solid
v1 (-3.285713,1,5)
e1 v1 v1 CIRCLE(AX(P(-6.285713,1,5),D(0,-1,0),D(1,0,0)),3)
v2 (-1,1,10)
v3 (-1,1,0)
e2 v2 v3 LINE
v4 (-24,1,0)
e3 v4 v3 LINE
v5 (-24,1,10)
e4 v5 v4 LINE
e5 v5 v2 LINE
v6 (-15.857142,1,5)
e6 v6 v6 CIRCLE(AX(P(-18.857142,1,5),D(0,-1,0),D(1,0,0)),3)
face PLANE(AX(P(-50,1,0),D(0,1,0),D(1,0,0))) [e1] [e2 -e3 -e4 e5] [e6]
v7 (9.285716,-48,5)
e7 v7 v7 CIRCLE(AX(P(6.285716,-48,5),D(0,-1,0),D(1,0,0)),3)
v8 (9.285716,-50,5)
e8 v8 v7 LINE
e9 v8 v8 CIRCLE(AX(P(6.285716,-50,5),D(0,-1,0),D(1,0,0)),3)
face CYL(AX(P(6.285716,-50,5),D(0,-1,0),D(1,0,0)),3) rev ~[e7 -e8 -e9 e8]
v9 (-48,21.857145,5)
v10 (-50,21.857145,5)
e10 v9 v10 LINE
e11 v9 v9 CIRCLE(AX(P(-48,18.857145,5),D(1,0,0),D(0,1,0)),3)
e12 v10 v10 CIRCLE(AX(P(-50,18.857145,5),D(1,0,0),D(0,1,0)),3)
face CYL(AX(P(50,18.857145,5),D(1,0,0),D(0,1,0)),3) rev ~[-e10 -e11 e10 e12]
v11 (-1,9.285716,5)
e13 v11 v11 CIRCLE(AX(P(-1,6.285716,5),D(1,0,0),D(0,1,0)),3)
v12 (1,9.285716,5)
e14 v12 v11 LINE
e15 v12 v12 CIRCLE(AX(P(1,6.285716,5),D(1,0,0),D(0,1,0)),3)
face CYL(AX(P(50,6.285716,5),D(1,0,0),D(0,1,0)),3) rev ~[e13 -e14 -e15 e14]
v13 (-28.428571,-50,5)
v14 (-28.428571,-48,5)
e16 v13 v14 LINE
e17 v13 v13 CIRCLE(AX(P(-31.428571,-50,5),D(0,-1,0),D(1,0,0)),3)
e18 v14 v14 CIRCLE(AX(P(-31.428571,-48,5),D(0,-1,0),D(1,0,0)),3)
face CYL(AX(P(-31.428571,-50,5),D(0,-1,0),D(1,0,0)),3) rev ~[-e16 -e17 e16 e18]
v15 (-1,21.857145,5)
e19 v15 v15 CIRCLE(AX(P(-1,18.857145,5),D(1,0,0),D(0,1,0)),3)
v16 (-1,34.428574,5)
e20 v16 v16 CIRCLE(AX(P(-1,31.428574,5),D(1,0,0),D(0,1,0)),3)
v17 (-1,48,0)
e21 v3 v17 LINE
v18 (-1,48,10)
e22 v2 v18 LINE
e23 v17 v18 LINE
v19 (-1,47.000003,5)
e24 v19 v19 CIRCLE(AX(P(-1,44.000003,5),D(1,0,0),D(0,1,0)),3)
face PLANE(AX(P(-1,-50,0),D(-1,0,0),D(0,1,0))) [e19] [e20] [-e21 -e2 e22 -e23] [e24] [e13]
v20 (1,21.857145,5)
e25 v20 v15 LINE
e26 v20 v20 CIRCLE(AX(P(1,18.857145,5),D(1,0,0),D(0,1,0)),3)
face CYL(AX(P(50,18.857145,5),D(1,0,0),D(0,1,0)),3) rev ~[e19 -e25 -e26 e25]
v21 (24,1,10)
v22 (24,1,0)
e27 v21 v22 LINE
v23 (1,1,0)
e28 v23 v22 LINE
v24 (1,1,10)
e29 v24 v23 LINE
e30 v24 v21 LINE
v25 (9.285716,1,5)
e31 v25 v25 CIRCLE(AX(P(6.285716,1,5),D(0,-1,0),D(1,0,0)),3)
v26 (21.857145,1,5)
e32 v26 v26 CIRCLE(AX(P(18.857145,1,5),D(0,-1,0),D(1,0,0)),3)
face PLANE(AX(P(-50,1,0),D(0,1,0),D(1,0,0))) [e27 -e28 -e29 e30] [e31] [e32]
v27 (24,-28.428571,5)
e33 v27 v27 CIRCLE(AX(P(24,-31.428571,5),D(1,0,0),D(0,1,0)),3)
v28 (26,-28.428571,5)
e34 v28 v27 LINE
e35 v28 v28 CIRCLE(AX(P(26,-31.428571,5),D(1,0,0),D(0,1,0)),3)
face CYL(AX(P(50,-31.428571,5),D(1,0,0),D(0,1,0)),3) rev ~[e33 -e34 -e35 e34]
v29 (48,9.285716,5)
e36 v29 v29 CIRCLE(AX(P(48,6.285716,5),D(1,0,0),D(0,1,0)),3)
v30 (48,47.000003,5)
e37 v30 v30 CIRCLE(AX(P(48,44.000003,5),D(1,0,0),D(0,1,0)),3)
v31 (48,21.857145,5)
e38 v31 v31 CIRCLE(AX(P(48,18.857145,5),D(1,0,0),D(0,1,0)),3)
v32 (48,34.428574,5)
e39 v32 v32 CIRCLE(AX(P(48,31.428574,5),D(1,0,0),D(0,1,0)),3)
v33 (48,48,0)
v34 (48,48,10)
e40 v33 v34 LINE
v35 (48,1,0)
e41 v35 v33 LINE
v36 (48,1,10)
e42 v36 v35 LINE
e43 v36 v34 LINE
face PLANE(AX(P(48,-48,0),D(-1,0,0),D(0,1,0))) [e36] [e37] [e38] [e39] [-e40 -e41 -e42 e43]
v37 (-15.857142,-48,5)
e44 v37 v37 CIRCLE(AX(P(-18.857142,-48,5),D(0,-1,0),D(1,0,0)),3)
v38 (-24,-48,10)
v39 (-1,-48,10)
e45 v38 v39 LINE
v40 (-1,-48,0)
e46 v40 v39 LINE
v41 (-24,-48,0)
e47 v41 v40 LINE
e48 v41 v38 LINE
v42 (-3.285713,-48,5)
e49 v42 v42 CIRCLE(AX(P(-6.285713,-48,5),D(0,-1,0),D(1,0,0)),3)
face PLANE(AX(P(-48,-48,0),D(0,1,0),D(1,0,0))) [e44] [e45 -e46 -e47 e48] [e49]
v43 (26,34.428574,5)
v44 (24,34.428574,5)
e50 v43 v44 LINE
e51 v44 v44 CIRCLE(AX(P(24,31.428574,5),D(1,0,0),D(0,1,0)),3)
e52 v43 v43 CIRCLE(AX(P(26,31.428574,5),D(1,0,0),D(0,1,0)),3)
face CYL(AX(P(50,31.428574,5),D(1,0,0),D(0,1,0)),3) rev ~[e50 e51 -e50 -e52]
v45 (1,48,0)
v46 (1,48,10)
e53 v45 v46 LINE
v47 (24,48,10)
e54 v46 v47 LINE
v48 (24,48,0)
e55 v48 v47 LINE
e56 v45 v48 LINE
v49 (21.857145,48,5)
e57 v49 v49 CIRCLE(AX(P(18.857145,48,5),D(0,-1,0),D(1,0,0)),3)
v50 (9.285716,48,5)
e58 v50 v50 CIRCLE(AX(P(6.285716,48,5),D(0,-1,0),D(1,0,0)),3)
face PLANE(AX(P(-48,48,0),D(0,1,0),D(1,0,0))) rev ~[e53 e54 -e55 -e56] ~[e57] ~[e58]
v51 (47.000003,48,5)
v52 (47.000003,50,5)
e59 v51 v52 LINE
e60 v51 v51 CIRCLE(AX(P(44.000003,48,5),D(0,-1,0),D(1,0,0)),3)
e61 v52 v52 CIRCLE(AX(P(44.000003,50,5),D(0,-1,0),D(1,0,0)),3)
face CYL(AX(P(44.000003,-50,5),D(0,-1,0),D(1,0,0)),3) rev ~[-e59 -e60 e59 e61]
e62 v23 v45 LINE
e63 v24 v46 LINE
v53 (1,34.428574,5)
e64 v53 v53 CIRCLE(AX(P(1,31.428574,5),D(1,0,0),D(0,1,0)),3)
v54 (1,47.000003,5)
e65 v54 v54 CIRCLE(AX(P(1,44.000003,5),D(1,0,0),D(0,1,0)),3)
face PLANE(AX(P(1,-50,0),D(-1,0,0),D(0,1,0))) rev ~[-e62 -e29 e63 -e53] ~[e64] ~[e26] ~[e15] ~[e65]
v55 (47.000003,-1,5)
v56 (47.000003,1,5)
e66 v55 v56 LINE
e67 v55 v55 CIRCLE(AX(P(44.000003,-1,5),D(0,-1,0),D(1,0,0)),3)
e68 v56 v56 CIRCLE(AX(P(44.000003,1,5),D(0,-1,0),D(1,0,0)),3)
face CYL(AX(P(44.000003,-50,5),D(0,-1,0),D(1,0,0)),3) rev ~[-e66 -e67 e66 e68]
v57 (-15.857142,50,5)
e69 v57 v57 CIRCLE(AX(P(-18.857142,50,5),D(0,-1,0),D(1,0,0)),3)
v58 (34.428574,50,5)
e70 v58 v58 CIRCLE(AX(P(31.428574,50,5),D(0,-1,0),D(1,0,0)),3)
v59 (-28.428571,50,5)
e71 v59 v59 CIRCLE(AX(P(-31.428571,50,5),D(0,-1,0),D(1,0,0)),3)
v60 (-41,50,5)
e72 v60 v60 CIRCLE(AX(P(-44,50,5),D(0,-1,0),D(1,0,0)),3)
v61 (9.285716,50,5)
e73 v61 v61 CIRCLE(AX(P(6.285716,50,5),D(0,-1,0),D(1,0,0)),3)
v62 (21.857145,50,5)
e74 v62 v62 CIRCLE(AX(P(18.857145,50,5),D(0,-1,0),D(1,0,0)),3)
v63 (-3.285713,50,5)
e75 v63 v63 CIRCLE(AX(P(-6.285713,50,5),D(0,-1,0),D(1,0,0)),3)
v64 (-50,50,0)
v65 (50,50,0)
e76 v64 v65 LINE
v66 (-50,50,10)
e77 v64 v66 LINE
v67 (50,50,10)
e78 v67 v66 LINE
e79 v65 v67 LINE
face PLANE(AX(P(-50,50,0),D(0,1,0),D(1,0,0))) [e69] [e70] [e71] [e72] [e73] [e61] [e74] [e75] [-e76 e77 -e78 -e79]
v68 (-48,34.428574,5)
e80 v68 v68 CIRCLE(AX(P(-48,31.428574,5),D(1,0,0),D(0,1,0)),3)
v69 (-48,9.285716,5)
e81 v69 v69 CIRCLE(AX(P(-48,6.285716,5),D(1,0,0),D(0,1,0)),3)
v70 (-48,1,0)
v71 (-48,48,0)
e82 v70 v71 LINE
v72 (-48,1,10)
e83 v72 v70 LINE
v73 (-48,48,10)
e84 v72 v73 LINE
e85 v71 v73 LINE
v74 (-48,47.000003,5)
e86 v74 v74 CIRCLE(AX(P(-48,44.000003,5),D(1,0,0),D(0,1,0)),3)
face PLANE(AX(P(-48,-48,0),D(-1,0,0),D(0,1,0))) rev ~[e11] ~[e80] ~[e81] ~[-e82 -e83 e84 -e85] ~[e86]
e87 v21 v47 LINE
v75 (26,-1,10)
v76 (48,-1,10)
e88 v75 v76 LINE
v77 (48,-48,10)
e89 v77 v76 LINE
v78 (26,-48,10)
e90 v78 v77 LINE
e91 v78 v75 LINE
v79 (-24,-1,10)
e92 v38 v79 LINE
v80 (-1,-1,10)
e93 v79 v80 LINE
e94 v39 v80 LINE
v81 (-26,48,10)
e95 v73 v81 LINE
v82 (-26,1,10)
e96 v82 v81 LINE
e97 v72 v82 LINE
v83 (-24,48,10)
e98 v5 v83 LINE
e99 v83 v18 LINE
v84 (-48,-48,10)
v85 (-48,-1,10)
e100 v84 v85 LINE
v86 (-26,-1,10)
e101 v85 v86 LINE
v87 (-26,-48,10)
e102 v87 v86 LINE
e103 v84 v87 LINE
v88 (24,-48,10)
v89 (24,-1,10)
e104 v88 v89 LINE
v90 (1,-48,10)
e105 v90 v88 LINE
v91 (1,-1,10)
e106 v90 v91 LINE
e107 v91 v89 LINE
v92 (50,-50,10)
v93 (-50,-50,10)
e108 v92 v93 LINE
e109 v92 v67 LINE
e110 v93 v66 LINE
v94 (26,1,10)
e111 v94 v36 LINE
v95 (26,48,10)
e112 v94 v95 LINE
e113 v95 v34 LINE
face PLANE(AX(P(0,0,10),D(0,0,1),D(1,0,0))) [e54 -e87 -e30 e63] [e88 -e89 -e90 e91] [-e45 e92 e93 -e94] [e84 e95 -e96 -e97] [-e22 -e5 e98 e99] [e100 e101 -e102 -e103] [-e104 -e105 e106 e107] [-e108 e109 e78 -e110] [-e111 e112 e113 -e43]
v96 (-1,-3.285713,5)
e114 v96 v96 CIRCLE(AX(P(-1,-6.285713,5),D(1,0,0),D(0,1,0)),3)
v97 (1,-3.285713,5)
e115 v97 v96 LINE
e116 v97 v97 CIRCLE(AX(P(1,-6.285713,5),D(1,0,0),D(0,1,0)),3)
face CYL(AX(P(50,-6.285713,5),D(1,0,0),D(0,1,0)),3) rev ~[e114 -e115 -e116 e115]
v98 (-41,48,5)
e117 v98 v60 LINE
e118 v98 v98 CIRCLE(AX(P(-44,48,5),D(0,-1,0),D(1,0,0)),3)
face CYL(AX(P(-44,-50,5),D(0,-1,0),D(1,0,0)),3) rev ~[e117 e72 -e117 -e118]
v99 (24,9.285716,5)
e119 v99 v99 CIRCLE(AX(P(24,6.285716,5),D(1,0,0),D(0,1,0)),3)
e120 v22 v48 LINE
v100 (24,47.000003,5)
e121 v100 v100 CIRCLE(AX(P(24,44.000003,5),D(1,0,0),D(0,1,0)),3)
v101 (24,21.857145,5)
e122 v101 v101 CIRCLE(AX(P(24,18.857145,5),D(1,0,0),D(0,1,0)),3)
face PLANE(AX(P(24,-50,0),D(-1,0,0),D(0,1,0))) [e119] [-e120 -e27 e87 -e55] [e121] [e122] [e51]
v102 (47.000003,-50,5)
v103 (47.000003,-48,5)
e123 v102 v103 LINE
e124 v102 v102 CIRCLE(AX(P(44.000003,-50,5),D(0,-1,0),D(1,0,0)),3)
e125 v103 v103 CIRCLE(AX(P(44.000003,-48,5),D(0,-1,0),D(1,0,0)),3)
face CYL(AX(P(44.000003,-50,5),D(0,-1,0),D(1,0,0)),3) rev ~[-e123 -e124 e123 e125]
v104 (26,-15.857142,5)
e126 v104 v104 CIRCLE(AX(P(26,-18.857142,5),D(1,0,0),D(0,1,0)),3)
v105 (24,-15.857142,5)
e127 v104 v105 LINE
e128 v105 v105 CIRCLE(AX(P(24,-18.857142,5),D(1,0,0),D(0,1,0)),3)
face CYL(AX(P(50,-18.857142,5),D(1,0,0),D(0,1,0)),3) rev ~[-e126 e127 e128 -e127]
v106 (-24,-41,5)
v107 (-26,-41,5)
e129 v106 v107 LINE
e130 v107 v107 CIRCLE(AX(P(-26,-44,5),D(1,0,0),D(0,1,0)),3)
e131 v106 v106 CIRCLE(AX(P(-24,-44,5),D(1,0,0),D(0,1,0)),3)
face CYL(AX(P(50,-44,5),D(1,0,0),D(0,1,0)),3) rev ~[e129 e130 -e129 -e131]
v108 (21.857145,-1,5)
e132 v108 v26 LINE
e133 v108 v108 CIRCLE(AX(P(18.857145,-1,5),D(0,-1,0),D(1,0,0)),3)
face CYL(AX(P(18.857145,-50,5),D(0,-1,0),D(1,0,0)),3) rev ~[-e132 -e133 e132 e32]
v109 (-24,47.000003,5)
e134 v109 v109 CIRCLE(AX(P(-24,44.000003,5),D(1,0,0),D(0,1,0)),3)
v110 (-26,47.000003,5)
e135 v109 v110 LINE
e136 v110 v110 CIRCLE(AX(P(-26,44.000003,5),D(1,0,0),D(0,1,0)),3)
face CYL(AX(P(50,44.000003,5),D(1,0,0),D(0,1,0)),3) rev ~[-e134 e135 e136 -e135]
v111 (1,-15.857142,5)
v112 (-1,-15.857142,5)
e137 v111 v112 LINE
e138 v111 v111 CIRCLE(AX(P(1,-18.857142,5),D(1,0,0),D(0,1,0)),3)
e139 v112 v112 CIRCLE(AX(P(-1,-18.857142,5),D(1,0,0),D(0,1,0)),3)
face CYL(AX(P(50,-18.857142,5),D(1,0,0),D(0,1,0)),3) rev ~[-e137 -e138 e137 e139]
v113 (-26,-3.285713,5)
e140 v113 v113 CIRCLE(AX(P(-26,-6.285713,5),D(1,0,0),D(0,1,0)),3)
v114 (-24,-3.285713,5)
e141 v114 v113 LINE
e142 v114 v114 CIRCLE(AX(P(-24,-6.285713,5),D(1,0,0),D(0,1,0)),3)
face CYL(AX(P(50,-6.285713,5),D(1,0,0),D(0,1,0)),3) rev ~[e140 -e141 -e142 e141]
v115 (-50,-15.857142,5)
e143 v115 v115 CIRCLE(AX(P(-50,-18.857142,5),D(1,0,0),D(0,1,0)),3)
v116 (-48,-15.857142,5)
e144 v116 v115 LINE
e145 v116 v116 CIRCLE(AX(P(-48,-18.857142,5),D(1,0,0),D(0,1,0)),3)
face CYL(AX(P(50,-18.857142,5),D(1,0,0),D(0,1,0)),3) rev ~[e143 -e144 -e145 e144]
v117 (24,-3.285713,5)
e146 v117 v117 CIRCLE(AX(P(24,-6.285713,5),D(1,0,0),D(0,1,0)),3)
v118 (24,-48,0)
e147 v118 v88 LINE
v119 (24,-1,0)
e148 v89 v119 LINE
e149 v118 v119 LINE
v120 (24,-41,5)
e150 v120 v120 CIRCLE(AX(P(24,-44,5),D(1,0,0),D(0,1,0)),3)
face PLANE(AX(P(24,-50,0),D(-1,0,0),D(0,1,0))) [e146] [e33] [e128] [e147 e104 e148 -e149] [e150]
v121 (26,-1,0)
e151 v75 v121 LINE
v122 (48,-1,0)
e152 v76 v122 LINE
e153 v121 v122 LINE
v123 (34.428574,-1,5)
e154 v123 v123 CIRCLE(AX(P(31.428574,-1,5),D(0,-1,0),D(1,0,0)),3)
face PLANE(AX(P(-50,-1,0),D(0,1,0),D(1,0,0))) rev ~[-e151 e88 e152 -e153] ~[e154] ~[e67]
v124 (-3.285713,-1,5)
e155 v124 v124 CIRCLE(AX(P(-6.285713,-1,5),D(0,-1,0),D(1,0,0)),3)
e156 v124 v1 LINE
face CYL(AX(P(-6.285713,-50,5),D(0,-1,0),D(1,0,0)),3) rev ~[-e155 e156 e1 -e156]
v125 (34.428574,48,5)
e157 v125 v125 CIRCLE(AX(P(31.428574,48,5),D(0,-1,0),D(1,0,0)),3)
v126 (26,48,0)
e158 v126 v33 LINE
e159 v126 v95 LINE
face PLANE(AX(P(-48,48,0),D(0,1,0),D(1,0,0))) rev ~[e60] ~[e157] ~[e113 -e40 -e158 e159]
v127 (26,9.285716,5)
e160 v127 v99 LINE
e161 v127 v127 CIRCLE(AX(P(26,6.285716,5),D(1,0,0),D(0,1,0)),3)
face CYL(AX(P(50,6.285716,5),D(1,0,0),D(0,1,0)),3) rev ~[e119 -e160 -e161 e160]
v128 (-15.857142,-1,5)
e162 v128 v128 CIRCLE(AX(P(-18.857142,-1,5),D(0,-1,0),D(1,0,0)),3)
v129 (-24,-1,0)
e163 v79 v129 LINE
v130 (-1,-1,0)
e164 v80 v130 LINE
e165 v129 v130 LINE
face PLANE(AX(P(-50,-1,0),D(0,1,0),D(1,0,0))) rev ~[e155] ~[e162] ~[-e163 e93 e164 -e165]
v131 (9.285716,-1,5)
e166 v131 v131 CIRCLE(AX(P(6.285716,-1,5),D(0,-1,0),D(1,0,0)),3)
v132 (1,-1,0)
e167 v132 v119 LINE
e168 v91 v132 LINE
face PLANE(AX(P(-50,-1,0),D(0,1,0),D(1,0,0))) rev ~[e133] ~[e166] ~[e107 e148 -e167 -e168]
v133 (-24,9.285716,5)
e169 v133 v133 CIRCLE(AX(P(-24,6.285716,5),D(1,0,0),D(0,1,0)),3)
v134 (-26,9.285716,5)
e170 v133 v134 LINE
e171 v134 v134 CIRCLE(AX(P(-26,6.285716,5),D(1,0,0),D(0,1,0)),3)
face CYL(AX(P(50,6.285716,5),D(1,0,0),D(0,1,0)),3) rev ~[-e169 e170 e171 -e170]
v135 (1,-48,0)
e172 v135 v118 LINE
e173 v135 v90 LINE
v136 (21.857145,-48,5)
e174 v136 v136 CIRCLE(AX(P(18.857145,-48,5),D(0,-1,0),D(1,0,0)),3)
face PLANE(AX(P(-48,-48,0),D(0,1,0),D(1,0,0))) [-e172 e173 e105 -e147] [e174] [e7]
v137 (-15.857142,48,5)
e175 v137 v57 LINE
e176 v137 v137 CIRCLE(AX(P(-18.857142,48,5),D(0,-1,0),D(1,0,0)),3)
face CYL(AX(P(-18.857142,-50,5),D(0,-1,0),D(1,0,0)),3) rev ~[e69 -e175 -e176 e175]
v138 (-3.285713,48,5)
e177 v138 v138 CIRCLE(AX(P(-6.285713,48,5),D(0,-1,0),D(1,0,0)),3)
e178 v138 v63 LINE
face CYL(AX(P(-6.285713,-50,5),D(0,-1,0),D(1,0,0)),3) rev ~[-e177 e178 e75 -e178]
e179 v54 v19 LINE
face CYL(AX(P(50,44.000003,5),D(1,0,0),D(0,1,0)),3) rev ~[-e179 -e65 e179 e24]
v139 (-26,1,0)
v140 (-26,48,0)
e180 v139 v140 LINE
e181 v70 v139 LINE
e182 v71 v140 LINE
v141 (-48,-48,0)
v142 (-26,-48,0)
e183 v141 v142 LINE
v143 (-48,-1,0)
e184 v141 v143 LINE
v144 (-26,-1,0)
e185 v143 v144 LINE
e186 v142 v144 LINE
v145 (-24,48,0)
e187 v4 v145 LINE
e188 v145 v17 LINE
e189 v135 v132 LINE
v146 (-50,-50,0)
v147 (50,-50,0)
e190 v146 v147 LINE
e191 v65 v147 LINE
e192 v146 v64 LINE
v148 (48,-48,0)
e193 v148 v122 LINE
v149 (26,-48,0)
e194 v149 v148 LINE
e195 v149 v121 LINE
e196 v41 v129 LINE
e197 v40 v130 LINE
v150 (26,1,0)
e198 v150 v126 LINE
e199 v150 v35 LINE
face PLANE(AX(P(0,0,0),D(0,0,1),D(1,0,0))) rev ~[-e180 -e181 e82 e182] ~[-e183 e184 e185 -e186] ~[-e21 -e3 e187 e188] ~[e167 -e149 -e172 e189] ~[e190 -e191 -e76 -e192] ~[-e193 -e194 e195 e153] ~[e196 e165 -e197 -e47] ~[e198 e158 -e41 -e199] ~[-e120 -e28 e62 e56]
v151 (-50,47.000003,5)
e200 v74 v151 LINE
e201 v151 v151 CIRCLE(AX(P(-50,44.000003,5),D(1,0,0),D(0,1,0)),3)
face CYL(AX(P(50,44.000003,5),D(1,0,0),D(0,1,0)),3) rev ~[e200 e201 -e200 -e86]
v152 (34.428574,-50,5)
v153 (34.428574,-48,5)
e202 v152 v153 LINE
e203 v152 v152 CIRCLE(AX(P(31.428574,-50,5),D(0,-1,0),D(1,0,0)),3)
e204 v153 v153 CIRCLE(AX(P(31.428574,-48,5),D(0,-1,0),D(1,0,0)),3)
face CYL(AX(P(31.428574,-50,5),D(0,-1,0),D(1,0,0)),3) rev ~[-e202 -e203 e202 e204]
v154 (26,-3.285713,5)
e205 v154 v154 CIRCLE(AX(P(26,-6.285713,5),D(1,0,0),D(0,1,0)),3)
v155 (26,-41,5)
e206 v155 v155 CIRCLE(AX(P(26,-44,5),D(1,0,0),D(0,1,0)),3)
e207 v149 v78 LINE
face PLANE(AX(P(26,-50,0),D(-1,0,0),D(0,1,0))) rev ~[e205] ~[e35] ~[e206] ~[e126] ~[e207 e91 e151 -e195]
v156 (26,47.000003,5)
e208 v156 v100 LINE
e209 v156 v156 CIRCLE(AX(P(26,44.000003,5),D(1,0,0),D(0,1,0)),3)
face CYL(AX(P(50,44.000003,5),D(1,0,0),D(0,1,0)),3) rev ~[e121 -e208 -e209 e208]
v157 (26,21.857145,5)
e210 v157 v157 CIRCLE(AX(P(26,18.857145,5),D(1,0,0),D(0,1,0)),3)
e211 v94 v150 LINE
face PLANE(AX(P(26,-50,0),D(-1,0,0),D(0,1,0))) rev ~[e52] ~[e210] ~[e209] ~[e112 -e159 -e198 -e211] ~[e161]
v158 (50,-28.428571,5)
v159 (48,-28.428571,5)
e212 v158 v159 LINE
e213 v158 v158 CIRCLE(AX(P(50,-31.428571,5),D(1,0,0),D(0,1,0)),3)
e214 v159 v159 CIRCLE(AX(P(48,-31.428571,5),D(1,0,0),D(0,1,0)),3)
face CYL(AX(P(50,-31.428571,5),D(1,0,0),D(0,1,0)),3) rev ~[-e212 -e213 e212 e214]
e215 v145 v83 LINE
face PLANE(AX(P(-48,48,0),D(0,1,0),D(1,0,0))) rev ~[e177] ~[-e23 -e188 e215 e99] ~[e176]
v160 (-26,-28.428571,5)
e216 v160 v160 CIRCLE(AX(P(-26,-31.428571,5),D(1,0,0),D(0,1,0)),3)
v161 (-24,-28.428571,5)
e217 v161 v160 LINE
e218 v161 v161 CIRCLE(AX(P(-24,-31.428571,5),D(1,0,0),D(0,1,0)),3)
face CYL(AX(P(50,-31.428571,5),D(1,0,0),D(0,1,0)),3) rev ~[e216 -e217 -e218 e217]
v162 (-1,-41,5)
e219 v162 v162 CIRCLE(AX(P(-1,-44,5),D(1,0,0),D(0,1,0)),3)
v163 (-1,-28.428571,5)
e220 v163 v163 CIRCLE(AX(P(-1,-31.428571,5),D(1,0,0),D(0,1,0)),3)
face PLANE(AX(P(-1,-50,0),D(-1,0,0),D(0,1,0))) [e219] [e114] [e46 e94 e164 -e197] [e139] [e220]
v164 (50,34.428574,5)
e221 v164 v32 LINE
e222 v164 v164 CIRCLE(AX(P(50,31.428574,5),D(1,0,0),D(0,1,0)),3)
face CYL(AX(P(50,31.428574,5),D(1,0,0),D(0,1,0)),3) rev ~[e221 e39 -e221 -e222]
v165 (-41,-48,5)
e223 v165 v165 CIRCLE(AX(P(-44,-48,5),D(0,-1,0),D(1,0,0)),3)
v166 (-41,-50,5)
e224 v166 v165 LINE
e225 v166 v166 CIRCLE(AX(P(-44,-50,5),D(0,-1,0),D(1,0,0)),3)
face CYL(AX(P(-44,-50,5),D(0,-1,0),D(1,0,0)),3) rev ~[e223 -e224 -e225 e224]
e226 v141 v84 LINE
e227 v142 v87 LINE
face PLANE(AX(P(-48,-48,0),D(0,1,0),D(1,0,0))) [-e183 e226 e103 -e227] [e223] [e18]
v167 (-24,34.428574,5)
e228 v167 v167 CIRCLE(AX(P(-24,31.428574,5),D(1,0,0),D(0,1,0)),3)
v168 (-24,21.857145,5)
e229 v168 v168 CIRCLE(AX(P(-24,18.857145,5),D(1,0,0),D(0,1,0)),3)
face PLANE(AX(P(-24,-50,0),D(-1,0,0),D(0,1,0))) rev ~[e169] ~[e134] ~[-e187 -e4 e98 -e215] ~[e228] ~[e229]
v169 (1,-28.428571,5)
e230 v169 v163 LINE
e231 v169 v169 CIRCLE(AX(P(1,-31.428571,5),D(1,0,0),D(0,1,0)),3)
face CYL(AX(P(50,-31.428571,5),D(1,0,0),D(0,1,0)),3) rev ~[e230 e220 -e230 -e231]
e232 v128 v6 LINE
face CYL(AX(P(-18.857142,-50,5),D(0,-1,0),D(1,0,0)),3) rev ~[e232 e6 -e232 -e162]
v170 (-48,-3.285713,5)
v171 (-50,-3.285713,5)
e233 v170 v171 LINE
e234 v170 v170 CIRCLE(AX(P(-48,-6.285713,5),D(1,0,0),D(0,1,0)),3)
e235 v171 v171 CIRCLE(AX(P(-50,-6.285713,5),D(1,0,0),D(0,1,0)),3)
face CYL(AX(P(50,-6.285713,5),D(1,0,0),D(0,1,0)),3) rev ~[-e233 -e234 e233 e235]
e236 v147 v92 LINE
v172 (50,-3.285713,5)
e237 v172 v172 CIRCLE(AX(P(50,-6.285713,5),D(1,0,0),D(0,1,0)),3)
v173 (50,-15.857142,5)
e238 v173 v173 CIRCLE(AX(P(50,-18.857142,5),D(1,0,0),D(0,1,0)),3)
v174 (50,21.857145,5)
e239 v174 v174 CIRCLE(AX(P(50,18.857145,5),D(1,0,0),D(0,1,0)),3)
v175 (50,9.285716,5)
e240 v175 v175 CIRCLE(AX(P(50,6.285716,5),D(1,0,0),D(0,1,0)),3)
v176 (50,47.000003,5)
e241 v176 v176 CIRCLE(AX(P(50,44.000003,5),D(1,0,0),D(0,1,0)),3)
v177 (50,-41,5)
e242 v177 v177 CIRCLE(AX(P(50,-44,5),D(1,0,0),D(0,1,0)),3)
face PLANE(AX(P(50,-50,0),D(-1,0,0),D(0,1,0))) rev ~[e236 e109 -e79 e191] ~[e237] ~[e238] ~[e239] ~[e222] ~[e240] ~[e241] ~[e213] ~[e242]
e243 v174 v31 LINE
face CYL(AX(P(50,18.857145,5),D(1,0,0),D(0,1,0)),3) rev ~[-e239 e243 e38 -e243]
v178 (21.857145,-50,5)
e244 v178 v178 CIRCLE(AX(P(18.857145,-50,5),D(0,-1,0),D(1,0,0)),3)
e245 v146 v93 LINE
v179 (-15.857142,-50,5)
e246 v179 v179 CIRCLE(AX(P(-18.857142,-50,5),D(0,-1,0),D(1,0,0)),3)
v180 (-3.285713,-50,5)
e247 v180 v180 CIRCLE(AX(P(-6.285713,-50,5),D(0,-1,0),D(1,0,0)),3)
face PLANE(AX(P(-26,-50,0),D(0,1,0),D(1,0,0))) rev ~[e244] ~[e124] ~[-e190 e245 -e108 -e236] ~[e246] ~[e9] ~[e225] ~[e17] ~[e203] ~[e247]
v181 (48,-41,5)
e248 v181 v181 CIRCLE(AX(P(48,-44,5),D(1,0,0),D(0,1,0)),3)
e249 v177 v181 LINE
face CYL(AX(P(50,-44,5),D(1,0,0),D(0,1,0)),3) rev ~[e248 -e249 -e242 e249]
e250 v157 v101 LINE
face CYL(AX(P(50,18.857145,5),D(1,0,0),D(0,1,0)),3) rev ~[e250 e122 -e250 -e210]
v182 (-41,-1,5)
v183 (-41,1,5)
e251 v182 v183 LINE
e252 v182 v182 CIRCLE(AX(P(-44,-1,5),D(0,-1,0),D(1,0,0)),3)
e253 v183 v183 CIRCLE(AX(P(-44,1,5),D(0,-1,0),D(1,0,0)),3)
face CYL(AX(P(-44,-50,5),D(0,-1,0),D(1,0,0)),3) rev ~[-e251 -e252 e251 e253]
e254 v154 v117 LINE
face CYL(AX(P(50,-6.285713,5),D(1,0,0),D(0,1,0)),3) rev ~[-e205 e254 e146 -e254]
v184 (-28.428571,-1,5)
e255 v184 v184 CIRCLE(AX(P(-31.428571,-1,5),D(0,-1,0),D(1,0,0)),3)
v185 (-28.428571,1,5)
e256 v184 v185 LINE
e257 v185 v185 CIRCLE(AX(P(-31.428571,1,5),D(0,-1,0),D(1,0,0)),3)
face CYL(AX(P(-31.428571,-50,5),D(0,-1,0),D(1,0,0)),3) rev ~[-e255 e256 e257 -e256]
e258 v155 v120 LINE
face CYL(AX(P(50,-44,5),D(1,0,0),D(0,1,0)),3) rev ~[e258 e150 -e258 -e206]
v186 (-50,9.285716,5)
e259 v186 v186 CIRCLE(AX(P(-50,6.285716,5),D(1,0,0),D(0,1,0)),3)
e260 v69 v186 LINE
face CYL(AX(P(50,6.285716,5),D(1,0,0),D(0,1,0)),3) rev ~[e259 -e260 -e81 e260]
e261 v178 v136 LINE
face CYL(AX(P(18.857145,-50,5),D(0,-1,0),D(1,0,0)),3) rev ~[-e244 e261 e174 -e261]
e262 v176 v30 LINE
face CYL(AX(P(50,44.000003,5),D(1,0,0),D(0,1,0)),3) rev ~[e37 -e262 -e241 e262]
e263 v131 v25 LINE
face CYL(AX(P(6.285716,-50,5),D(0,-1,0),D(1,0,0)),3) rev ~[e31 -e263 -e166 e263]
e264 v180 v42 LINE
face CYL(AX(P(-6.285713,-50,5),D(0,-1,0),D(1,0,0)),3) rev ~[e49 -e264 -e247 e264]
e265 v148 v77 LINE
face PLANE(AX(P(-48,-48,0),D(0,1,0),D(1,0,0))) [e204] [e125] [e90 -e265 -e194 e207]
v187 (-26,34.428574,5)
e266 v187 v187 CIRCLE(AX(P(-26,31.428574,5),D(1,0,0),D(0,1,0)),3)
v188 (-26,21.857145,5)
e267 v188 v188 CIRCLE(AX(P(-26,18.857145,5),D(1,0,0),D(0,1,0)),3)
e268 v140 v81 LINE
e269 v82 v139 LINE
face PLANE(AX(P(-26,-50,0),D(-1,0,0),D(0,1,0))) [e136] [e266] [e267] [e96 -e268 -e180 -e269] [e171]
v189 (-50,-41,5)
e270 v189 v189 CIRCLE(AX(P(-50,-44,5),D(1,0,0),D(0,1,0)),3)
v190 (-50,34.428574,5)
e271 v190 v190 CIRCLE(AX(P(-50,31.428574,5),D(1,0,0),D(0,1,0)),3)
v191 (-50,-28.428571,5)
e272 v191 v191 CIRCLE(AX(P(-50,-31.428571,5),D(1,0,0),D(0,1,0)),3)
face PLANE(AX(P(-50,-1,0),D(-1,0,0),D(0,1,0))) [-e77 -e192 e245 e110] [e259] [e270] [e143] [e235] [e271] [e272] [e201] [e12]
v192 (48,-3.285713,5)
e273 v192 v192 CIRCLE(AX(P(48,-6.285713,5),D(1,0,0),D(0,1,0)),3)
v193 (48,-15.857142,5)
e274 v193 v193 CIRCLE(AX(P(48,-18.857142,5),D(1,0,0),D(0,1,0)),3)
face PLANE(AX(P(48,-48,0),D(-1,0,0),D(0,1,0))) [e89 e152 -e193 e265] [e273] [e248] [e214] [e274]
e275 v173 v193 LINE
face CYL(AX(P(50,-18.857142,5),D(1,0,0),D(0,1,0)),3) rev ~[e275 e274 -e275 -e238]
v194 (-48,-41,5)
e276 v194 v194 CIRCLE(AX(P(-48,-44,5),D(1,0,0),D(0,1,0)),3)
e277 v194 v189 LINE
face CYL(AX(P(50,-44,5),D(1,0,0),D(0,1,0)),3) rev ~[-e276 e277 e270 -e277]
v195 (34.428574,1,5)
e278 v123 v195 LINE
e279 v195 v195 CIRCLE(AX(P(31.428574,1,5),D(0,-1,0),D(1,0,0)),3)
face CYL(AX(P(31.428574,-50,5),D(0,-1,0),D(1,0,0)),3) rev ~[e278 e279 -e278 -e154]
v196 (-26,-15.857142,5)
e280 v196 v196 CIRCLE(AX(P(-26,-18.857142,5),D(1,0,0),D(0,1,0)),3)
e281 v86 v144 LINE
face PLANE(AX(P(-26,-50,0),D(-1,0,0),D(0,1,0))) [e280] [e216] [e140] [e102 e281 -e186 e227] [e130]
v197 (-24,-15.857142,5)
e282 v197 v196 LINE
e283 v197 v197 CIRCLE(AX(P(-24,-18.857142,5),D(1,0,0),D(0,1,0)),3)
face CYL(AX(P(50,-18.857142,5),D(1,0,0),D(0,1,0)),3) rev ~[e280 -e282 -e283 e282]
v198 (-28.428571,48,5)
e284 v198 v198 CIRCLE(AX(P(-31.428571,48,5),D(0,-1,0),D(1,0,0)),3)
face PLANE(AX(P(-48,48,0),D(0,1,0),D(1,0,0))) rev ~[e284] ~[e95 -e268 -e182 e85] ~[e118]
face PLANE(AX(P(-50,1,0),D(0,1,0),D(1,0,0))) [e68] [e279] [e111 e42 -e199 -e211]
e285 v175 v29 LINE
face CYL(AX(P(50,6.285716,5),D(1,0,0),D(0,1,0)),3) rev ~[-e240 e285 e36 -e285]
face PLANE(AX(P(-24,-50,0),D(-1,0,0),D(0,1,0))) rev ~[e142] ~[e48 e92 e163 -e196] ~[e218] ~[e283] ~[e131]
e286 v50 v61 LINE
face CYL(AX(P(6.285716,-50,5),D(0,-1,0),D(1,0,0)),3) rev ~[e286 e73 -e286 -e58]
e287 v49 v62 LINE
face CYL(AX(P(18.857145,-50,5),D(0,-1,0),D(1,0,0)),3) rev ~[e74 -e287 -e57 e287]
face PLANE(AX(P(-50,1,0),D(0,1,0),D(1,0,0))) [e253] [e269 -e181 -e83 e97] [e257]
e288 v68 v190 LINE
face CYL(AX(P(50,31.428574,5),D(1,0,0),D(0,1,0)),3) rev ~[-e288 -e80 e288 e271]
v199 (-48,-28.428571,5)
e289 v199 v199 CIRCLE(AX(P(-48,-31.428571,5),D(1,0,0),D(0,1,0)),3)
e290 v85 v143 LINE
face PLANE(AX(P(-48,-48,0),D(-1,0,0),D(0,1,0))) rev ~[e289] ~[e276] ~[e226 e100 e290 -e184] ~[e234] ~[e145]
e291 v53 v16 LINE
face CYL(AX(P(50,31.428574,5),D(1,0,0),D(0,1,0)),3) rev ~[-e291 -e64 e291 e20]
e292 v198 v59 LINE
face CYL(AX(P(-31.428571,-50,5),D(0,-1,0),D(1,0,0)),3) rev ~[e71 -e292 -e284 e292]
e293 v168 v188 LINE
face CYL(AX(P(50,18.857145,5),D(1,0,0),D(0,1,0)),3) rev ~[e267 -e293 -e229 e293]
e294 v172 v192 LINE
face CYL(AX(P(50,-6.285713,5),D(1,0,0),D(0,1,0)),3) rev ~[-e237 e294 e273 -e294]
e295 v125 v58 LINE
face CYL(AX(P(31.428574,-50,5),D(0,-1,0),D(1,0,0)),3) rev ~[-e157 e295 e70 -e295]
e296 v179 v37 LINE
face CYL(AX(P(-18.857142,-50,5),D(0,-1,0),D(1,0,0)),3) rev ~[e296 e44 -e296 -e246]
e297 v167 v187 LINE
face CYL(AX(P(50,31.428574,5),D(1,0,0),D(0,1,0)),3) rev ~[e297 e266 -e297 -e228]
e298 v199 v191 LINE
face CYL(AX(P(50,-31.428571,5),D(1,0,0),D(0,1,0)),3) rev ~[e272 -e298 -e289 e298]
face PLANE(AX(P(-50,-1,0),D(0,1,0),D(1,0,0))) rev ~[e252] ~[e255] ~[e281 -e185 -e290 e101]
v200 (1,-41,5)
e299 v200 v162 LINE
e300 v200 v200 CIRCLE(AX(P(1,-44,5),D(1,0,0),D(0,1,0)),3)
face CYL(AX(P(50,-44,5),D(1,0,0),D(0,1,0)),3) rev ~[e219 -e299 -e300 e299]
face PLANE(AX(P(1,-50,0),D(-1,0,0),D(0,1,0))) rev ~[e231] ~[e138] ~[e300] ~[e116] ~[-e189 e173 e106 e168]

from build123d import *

# Parameters (mm, degrees)
SKETCH_W               = 100
SKETCH_H               = 100
SKETCH_W_2             = 96
SKETCH_H_2             = 96
PAD_DEPTH              = 10
SKETCH001_W            = 2
SKETCH001_H            = 100
PAD001_DEPTH           = 10
LINEARPATTERN_COUNT    = 2
LINEARPATTERN_PITCH    = 25
LINEARPATTERN001_COUNT = 2
LINEARPATTERN001_PITCH = 25
SKETCH002_W            = 100
SKETCH002_H            = 2
PAD002_DEPTH           = 10
SKETCH003_R            = 3
POCKET_DEPTH           = 100.001
LINEARPATTERN002_COUNT = 8
LINEARPATTERN002_PITCH = 12.571429
SKETCH004_R            = 3
POCKET001_DEPTH        = 100.001
LINEARPATTERN003_COUNT = 8
LINEARPATTERN003_PITCH = 12.571429


with BuildPart() as part:
    # Sketch → Pad (new body)
    with BuildSketch(Plane.XY):
        Rectangle(SKETCH_W, SKETCH_H)
        Rectangle(SKETCH_W_2, SKETCH_H_2, mode=Mode.SUBTRACT)
    extrude(amount=PAD_DEPTH)

    # Sketch001 → Pad001 (join)
    with BuildSketch(Plane.XY):
        Rectangle(SKETCH001_W, SKETCH001_H)
    pad001 = extrude(amount=PAD001_DEPTH)

    # LinearPattern: Pad001 ×2
    with Locations(*[(i * LINEARPATTERN_PITCH, 0, 0) for i in range(1, LINEARPATTERN_COUNT)]):
        add(pad001)

    # LinearPattern001: Pad001 ×2
    with Locations(*[(-i * LINEARPATTERN001_PITCH, 0, 0) for i in range(1, LINEARPATTERN001_COUNT)]):
        add(pad001)

    # Sketch002 → Pad002 (join)
    with BuildSketch(Plane.XY):
        Rectangle(SKETCH002_W, SKETCH002_H)
    extrude(amount=PAD002_DEPTH)

    # Sketch003 (on Face76 of Pad002) → Pocket (cut, through all)
    with BuildSketch(Plane.YZ.offset(50)):
        with Locations((-44, 5)):
            Circle(SKETCH003_R)
    pocket = extrude(amount=-POCKET_DEPTH, mode=Mode.SUBTRACT)

    # LinearPattern002: Pocket ×8
    with Locations(*[(0, i * LINEARPATTERN002_PITCH, 0) for i in range(1, LINEARPATTERN002_COUNT)]):
        add(pocket, mode=Mode.SUBTRACT)

    # Sketch004 (on Face83 of LinearPattern002) → Pocket001 (cut, through all)
    with BuildSketch(Plane.XZ.offset(50)):
        with Locations((-44, 5)):
            Circle(SKETCH004_R)
    pocket001 = extrude(amount=-POCKET001_DEPTH, mode=Mode.SUBTRACT)

    # LinearPattern003: Pocket001 ×8
    with Locations(*[(i * LINEARPATTERN003_PITCH, 0, 0) for i in range(1, LINEARPATTERN003_COUNT)]):
        add(pocket001, mode=Mode.SUBTRACT)


solid = part.part
